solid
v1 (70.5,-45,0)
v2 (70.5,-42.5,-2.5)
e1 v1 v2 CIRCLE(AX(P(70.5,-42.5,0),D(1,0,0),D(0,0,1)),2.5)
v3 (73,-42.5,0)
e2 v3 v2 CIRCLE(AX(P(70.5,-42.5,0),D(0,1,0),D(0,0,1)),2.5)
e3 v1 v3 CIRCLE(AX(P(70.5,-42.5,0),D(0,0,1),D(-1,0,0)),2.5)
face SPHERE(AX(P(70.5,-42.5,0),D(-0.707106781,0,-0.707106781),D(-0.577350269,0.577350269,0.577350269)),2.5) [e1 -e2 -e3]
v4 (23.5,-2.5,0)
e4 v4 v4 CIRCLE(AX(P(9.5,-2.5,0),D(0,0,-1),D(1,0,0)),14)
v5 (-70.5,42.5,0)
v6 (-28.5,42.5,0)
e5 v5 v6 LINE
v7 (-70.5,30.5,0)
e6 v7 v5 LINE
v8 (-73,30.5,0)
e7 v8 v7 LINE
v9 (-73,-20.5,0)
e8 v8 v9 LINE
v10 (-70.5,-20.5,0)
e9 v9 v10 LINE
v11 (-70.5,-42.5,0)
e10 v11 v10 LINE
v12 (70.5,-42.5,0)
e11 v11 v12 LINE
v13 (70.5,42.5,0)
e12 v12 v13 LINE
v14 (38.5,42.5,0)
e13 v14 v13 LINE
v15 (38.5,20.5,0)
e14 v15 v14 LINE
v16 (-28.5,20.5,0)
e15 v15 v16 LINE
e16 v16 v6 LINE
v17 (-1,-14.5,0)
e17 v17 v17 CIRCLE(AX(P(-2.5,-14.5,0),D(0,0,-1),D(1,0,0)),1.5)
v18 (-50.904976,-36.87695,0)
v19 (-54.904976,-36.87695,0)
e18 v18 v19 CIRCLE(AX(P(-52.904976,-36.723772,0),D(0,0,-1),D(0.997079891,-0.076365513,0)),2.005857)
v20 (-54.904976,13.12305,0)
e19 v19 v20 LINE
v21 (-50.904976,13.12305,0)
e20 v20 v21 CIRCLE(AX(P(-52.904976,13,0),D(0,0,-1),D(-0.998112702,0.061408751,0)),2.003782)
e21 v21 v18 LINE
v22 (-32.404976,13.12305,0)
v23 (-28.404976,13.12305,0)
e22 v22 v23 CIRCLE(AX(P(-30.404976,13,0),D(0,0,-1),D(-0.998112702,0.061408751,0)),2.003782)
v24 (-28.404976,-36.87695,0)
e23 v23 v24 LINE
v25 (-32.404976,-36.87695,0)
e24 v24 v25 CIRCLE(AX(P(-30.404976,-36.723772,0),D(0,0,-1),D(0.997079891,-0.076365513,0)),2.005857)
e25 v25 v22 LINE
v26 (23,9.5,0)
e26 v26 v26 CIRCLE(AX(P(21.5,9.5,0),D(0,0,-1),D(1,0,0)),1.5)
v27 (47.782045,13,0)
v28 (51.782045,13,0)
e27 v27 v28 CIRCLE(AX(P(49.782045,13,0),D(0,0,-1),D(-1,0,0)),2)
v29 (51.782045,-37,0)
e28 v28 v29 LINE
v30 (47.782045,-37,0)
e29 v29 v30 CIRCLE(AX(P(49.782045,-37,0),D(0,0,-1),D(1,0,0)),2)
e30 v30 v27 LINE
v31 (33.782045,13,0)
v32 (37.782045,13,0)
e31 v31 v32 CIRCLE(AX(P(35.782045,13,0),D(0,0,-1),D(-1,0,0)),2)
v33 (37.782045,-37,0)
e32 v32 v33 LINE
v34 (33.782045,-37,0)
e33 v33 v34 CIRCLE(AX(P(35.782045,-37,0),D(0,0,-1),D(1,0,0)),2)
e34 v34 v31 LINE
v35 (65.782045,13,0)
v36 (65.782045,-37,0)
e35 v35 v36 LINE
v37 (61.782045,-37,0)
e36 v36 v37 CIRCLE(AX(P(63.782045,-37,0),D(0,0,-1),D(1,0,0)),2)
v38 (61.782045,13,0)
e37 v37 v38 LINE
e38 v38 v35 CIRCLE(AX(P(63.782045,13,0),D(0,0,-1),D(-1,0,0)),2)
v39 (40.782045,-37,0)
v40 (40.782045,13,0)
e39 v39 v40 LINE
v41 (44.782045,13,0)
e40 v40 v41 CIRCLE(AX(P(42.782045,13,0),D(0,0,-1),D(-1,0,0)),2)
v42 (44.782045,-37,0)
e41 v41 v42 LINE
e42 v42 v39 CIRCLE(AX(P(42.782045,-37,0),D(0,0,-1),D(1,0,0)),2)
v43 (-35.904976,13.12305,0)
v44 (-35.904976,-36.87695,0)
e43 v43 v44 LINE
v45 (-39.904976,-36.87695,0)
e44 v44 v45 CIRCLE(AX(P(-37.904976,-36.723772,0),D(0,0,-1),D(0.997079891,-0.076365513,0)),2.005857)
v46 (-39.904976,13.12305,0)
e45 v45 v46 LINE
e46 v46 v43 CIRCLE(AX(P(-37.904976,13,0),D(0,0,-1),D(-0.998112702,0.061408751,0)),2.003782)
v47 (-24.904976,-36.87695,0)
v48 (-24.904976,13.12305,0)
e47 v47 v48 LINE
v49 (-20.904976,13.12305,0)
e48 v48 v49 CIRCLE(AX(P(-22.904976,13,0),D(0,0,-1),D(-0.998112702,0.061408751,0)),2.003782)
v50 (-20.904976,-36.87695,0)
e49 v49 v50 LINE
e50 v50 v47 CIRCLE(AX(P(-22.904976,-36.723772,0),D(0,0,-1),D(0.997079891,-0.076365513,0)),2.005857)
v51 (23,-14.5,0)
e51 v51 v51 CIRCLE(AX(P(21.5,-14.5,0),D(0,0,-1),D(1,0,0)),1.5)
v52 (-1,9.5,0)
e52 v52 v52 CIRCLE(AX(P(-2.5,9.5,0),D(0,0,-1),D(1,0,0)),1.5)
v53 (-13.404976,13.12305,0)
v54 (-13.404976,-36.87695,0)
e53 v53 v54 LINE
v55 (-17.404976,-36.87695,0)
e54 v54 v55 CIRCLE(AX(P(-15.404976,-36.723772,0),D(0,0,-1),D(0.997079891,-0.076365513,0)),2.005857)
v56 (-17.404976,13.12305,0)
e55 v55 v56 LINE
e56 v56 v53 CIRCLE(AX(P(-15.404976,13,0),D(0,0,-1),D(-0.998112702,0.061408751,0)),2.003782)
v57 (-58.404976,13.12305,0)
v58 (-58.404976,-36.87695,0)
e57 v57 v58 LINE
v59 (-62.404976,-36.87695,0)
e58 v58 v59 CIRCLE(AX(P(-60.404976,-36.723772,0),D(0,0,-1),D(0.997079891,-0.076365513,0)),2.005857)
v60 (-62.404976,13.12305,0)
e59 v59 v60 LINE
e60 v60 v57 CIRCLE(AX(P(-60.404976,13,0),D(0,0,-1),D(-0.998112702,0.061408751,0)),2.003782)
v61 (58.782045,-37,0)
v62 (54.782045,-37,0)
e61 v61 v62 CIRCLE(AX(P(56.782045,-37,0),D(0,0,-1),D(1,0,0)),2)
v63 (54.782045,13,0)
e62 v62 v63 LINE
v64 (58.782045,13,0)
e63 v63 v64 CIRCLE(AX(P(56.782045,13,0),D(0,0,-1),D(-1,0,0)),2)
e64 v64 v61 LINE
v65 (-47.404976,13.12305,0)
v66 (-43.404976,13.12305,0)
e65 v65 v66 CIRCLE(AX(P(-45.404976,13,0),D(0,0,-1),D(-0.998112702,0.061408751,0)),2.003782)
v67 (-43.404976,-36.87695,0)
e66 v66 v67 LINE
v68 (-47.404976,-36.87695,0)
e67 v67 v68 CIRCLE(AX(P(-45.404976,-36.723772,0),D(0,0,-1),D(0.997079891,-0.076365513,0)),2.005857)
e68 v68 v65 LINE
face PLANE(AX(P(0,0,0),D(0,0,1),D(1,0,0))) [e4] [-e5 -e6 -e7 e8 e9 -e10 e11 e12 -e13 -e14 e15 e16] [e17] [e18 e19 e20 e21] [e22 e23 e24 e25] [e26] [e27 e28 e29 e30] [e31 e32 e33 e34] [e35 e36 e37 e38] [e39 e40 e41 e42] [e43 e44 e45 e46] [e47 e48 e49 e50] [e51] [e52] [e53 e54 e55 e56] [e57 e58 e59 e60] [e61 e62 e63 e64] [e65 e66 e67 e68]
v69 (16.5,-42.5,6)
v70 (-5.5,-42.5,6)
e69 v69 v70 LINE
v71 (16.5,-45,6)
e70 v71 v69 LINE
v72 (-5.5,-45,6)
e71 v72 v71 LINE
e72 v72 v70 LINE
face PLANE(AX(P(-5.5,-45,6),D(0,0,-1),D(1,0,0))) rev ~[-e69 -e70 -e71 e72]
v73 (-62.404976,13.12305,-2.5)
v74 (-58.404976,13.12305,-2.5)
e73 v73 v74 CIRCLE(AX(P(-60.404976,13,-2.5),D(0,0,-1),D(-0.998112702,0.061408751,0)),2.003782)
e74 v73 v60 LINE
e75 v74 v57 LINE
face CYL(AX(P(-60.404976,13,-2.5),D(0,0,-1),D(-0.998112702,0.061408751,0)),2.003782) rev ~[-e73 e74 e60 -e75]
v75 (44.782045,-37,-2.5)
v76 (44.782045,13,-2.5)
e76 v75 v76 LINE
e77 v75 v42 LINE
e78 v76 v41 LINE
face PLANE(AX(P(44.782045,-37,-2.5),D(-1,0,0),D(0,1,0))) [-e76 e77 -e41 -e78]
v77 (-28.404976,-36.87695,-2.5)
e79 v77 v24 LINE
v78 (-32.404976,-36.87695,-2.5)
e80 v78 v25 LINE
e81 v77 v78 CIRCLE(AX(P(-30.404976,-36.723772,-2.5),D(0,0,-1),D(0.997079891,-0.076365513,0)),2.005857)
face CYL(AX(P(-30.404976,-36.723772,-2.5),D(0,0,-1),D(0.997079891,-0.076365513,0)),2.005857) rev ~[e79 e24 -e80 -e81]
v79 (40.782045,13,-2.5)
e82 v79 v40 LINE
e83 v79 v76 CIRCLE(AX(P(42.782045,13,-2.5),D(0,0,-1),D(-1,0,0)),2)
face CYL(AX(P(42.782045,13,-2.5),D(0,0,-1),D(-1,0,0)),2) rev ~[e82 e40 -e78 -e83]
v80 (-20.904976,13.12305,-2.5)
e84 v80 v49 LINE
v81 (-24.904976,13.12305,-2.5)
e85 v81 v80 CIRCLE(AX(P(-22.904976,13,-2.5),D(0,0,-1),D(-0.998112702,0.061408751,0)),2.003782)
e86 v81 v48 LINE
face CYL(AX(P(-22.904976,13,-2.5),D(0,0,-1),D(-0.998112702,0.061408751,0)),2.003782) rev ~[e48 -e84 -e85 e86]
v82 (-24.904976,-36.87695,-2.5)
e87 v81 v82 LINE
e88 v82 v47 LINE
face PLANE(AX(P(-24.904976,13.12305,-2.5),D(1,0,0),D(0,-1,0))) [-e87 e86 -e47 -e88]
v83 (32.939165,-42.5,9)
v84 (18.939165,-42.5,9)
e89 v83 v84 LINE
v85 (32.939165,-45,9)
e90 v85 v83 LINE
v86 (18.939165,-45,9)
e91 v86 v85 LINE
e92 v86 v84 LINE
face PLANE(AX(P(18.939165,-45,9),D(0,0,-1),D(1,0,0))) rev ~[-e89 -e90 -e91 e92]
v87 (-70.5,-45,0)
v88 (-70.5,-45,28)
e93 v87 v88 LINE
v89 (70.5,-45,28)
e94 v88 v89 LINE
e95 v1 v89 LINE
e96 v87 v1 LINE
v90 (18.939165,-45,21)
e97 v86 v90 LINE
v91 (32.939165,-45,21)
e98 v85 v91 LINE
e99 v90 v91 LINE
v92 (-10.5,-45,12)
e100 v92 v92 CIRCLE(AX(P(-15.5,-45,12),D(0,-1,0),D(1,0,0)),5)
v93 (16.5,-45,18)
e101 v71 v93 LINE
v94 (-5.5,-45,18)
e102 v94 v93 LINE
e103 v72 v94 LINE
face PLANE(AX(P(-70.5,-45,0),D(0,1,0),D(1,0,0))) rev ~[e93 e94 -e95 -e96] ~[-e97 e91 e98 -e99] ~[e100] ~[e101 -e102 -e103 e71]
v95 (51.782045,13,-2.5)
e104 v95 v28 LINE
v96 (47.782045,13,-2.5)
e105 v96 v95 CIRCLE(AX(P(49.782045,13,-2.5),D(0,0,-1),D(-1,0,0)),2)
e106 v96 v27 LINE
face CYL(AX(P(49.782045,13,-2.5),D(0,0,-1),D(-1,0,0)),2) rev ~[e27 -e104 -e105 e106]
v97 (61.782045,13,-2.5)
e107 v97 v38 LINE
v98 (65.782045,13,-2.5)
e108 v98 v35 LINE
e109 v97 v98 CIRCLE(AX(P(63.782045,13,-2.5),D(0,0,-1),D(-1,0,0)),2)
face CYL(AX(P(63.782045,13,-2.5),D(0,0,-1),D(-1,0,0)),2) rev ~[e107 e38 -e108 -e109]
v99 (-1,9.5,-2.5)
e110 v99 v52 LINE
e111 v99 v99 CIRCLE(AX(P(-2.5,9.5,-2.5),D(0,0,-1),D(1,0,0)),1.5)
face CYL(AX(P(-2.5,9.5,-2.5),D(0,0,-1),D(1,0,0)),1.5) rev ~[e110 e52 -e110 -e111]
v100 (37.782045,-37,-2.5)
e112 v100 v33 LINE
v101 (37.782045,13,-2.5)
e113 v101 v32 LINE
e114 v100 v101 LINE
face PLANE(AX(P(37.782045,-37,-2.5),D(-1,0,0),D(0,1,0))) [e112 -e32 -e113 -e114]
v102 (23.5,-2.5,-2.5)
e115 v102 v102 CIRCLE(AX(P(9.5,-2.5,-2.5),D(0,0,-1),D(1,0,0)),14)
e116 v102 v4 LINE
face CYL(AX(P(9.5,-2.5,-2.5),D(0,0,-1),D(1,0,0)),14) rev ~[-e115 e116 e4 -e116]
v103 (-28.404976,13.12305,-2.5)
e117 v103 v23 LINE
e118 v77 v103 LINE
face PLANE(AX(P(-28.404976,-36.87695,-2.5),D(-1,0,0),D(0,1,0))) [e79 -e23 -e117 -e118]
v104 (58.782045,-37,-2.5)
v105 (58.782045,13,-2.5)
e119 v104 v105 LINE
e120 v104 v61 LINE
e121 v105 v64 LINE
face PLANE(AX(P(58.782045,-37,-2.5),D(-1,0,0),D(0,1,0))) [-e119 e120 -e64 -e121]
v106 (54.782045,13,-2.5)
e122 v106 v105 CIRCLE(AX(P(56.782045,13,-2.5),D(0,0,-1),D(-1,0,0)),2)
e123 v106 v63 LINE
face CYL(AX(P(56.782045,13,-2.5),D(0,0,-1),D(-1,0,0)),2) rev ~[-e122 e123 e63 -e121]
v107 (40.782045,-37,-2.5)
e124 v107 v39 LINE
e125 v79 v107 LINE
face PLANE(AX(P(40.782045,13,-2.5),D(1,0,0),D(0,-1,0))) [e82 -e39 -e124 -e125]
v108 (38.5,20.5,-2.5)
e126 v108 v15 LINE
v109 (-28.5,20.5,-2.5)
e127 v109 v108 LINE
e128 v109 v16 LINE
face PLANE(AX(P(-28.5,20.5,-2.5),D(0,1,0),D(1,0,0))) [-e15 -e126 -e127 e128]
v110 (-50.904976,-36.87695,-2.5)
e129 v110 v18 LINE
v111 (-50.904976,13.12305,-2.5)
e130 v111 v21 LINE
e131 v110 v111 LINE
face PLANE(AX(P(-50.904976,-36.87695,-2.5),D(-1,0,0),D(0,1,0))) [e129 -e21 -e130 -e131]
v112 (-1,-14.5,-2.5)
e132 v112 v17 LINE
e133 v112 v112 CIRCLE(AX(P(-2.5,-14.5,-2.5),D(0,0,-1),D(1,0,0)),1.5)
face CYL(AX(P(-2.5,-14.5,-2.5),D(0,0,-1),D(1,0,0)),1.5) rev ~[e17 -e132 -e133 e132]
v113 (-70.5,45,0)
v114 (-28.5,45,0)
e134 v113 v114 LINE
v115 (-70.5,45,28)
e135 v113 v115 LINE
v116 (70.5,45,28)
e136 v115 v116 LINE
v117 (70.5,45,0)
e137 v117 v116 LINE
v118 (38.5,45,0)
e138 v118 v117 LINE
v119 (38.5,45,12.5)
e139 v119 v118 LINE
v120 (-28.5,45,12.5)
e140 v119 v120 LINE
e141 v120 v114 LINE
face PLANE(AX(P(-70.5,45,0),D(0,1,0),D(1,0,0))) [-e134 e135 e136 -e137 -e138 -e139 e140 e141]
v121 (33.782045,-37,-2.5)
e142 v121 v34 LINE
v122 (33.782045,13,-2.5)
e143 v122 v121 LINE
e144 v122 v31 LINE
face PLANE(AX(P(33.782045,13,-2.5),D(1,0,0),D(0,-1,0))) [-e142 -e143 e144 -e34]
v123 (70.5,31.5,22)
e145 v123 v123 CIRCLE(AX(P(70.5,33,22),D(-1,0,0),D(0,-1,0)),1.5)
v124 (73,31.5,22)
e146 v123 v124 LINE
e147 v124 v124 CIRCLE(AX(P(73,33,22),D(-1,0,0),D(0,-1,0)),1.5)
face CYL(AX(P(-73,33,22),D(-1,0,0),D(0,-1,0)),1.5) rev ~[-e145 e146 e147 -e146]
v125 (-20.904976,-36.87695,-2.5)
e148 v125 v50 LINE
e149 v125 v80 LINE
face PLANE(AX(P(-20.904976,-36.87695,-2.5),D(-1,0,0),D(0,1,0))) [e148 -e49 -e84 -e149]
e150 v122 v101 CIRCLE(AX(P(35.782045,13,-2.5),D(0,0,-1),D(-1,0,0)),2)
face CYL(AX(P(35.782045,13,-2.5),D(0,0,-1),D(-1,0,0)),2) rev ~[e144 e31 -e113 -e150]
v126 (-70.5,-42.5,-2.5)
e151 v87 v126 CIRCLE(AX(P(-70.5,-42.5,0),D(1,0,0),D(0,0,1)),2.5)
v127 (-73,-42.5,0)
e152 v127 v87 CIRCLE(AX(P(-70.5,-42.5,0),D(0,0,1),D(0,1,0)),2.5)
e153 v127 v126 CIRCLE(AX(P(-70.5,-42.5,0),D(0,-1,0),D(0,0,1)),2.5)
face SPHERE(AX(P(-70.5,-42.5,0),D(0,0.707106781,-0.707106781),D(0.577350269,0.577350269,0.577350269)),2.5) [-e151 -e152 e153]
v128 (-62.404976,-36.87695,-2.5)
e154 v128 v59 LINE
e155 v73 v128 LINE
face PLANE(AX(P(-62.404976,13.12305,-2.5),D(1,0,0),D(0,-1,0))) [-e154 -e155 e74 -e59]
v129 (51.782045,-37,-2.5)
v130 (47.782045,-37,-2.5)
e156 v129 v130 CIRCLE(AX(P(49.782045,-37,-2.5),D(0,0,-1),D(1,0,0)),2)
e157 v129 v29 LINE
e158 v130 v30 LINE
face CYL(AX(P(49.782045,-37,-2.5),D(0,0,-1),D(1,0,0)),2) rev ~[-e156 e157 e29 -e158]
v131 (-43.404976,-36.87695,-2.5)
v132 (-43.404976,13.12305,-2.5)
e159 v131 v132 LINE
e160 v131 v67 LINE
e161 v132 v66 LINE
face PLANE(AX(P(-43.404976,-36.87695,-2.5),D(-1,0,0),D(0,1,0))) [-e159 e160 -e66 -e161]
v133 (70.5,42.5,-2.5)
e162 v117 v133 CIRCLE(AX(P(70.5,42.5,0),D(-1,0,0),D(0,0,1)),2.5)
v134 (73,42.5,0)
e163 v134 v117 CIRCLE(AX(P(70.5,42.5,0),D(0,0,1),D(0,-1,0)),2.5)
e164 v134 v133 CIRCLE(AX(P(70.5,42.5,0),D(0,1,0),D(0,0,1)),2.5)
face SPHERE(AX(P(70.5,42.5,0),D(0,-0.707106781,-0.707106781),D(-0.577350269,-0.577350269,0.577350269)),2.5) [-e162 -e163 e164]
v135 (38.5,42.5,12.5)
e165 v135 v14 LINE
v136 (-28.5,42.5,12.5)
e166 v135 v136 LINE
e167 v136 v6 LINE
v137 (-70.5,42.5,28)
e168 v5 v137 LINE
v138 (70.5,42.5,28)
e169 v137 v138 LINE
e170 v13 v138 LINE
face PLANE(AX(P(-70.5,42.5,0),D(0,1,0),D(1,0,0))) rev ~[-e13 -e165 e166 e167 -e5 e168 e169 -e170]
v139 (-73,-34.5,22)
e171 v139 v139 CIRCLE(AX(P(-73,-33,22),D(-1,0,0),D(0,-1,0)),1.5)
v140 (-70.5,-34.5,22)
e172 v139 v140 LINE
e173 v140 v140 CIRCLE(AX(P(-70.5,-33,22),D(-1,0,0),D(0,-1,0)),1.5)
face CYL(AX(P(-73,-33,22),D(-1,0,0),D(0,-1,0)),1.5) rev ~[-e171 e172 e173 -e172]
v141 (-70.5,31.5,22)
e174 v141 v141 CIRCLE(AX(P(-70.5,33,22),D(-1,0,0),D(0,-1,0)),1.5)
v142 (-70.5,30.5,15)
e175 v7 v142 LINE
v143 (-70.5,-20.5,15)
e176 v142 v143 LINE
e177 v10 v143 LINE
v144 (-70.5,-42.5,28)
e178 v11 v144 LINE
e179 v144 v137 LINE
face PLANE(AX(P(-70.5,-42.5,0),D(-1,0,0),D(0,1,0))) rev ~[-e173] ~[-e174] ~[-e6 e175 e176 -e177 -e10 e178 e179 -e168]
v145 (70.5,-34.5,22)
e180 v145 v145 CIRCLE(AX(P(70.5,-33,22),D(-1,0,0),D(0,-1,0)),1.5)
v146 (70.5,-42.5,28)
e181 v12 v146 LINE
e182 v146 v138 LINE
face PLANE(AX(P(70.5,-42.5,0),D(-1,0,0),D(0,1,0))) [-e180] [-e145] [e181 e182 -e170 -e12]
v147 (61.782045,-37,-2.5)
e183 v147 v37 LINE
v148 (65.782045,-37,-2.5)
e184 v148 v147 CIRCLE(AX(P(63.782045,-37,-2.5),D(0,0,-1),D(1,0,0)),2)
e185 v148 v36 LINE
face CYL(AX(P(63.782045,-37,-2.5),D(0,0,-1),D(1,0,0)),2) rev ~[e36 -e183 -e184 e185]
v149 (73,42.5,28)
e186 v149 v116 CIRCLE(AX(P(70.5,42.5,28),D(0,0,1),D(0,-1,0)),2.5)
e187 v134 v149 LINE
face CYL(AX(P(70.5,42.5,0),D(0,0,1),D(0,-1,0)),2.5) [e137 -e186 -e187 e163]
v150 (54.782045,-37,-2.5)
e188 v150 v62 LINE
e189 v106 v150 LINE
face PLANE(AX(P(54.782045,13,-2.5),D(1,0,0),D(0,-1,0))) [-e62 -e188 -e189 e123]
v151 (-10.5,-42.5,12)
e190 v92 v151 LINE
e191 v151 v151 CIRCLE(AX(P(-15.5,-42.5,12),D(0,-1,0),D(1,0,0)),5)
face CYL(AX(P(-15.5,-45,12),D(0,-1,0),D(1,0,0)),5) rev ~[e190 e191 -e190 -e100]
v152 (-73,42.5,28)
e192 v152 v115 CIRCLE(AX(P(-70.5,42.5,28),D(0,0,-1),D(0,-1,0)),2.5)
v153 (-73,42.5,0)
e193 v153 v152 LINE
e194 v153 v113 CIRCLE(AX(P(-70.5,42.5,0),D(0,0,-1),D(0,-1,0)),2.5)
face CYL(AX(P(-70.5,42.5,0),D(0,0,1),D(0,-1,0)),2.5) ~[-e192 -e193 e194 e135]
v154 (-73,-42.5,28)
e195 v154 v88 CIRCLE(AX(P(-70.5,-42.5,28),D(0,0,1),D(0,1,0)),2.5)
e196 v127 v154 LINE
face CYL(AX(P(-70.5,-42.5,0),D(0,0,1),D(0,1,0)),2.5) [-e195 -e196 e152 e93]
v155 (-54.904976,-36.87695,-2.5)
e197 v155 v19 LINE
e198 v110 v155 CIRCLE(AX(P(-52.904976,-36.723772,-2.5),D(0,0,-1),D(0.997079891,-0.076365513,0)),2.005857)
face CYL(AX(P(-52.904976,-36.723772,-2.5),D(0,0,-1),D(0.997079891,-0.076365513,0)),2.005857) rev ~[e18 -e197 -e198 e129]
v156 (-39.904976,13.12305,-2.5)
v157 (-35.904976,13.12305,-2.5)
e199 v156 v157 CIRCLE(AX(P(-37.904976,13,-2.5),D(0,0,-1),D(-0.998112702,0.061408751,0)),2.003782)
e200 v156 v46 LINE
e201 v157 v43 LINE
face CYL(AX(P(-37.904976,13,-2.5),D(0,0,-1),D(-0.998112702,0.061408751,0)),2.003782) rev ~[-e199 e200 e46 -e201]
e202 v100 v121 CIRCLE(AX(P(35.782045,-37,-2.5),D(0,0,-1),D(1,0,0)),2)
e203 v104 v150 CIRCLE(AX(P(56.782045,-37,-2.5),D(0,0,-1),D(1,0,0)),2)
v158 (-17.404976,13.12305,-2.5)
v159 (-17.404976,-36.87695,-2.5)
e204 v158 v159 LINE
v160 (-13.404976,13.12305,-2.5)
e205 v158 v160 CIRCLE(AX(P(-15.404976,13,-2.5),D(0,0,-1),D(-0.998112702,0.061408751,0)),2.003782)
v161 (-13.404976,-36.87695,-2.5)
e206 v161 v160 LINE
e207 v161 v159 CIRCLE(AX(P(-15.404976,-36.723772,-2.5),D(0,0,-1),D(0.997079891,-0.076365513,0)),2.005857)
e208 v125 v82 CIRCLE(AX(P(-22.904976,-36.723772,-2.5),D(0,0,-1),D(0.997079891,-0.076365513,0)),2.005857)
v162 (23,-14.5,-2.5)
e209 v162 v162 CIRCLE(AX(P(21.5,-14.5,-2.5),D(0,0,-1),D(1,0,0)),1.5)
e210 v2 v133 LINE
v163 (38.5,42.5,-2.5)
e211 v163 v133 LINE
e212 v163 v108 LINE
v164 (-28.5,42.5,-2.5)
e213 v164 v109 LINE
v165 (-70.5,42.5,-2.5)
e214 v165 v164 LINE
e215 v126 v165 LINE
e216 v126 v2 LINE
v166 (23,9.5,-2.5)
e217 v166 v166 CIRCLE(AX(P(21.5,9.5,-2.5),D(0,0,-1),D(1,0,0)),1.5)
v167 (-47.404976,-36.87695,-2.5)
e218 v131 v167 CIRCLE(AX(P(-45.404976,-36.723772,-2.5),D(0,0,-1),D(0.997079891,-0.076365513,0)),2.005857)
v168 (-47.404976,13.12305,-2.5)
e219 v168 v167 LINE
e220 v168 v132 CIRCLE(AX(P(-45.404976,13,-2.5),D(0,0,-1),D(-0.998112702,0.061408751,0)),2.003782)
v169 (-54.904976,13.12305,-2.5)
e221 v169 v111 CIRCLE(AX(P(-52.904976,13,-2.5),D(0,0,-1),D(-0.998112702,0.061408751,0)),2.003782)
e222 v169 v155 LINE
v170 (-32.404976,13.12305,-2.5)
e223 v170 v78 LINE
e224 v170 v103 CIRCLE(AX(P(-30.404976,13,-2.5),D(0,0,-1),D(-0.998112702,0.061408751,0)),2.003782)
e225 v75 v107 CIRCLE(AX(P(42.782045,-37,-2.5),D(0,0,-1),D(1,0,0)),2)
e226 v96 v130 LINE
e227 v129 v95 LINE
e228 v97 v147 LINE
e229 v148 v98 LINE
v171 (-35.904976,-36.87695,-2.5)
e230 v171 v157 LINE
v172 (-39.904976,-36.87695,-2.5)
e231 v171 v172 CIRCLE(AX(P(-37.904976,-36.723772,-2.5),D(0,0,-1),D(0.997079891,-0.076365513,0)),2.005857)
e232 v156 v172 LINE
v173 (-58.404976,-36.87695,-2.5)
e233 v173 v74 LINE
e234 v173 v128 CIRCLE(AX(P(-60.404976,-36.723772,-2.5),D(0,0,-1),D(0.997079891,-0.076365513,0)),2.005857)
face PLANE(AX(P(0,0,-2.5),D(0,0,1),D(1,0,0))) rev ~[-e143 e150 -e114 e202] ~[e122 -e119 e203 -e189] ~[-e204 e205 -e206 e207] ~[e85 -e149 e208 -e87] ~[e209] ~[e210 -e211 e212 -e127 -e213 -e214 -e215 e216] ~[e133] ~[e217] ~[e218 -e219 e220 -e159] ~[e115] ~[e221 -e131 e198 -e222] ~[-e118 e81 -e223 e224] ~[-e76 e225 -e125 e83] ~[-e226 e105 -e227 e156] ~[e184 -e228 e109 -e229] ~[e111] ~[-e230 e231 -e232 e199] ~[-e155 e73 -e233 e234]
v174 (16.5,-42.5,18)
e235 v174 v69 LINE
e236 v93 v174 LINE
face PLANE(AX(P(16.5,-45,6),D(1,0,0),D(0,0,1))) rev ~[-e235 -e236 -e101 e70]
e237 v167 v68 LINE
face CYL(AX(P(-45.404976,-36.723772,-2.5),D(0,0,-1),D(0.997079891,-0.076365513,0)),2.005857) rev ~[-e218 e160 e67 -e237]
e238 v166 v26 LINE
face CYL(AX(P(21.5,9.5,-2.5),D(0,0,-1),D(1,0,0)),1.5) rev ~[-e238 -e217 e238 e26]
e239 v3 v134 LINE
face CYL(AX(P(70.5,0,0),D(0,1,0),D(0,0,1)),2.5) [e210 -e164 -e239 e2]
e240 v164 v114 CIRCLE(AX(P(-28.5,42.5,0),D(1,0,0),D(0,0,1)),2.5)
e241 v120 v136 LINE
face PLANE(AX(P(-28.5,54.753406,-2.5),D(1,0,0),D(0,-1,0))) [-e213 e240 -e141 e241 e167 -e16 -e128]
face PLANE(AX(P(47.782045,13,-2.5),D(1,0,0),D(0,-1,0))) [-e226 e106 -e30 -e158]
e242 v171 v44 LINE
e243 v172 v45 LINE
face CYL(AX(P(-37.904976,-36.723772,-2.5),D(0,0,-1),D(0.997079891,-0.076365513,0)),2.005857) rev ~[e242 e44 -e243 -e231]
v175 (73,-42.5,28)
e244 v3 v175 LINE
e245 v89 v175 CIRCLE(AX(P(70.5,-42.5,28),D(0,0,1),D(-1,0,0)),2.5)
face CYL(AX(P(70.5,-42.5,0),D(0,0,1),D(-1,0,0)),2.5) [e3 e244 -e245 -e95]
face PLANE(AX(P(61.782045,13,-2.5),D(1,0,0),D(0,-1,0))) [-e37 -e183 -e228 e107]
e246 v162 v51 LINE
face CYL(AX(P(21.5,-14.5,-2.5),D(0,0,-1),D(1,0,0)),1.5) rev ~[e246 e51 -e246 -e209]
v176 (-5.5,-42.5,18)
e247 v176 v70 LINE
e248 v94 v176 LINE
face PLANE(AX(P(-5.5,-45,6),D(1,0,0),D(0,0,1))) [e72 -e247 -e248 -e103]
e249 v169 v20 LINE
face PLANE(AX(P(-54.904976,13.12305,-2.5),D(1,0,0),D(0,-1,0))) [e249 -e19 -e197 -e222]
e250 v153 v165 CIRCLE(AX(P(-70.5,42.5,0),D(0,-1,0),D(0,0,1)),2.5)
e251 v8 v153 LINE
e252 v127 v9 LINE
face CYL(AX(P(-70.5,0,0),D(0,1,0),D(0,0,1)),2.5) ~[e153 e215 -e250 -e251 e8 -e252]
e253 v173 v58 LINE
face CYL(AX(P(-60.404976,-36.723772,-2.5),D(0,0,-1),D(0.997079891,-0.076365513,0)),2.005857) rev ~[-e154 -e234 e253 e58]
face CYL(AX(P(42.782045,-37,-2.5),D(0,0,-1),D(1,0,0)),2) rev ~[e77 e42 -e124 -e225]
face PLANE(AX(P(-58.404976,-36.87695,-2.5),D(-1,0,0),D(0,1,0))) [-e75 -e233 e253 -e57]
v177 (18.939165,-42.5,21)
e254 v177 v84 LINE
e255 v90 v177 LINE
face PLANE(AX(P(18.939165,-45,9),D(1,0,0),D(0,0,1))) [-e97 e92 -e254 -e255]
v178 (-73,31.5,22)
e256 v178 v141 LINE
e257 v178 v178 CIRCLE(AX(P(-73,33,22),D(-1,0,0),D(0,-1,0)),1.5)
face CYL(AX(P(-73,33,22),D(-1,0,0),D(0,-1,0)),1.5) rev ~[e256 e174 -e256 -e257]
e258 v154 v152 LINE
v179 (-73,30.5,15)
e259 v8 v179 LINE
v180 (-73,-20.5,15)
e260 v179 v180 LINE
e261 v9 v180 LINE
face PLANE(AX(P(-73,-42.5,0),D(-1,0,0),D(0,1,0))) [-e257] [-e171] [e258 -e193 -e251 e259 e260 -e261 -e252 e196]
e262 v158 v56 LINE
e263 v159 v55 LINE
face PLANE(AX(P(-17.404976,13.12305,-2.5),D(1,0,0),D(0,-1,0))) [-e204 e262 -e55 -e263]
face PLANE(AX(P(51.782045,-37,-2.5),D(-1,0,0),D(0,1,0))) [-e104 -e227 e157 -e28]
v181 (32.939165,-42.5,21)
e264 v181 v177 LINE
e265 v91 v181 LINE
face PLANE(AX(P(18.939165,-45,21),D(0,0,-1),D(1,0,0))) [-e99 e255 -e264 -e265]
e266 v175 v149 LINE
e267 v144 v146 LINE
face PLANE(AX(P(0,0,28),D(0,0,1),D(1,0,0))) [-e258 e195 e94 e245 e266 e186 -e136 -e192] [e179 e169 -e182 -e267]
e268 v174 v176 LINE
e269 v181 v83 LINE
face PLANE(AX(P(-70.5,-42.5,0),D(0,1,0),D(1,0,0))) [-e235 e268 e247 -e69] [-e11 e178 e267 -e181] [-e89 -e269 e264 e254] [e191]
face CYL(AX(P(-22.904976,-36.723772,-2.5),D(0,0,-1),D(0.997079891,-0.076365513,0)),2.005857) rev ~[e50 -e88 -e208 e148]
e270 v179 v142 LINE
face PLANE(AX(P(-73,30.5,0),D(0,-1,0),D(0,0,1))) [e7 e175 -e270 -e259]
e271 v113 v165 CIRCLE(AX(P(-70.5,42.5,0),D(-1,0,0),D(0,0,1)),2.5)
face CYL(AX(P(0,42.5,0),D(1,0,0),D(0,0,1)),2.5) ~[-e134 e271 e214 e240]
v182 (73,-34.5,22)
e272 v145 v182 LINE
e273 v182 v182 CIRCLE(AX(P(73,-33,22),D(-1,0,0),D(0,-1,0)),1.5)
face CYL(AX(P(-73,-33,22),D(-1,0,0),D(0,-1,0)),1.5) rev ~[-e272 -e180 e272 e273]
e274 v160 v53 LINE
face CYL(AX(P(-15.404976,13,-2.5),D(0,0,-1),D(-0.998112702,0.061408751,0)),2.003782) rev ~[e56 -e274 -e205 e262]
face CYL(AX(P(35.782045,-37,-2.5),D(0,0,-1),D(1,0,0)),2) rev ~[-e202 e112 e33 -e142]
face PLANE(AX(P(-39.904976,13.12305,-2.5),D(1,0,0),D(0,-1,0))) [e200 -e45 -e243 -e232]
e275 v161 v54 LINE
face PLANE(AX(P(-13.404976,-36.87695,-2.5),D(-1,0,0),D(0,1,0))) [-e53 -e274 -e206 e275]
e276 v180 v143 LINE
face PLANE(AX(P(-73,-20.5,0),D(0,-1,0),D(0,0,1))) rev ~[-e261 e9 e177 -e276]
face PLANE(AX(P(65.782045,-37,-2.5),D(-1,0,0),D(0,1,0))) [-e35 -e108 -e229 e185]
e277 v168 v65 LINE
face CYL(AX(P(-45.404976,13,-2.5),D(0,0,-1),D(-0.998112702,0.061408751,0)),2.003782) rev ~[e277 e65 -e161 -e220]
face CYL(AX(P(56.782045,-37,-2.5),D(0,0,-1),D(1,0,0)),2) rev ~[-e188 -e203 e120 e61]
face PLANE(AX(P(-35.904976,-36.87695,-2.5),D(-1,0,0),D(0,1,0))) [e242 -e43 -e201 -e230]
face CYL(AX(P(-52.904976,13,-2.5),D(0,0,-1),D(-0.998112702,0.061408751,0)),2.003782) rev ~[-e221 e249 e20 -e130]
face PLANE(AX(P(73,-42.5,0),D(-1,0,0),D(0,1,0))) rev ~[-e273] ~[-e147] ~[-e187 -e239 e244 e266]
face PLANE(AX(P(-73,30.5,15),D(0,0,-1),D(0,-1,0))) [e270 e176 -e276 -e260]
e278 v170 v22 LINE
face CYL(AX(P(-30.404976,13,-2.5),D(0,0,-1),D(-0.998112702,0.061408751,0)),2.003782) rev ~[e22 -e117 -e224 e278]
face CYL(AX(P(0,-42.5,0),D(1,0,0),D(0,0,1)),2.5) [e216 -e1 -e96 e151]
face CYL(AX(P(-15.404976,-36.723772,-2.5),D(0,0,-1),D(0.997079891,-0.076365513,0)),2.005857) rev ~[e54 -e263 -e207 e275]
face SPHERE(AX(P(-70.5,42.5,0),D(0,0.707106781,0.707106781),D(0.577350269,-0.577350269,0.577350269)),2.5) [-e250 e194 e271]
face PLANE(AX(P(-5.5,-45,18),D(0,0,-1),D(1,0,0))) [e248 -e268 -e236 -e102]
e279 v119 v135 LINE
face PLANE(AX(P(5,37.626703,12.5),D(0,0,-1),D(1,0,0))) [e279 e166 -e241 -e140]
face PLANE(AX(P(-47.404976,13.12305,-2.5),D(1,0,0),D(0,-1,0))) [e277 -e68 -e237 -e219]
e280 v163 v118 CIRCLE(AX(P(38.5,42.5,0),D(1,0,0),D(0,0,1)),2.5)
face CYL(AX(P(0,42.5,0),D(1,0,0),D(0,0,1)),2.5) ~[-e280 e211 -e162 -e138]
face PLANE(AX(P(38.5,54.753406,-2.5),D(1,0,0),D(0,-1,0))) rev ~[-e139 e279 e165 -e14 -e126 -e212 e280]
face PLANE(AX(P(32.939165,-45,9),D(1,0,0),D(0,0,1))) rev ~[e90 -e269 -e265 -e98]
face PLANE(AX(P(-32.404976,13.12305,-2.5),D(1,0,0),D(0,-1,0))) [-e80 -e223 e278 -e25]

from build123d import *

# Parameters (mm, degrees)
SKETCH_W               = 141
SKETCH_H               = 85
PAD_DEPTH              = 28
THICKNESS_T            = 2.5
SKETCH001_R            = 1.5
POCKET_DEPTH           = 146.001
SKETCH003_W            = 51
SKETCH003_H            = 15
POCKET001_DEPTH        = 5
SKETCH004_W            = 67
SKETCH004_H            = 34.253407
POCKET002_DEPTH        = 15
SKETCH005_R            = 5
SKETCH005_W            = 22
SKETCH005_H            = 12
SKETCH005_W_2          = 14
POCKET003_DEPTH        = 5
SKETCH006_R            = 14
SKETCH006_R_2          = 1.5
POCKET004_DEPTH        = 5
POCKET005_DEPTH        = 5
LINEARPATTERN_COUNT    = 7
LINEARPATTERN_PITCH    = 7.5
POCKET006_DEPTH        = 5
LINEARPATTERN001_COUNT = 5
LINEARPATTERN001_PITCH = 7


with BuildPart() as part:
    # Sketch → Pad (new body)
    with BuildSketch(Plane.XY):
        Rectangle(SKETCH_W, SKETCH_H)
    extrude(amount=PAD_DEPTH)

    # Thickness
    thickness_openings = [part.faces().sort_by_distance(p)[0] for p in [
        (0, 0, 28),
    ]]
    offset(amount=THICKNESS_T, openings=thickness_openings)

    # Sketch001 → Pocket (cut, through all)
    with BuildSketch(Plane(origin=(-73, 0, 0), x_dir=(0, -1, 0), z_dir=(-1, 0, 0))):
        with Locations((-33, 22)):
            Circle(SKETCH001_R)
        with Locations((33, 22)):
            Circle(SKETCH001_R)
    extrude(amount=-POCKET_DEPTH, mode=Mode.SUBTRACT)

    # Sketch003 → Pocket001 (cut)
    with BuildSketch(Plane(origin=(-73, 0, 0), x_dir=(0, -1, 0), z_dir=(-1, 0, 0))):
        with Locations((-5, 7.5)):
            Rectangle(SKETCH003_W, SKETCH003_H)
    extrude(amount=-POCKET001_DEPTH, mode=Mode.SUBTRACT)

    # Sketch004 → Pocket002 (cut)
    with BuildSketch(Plane(origin=(0, 0, -2.5), x_dir=(1, 0, 0), z_dir=(0, 0, -1))):
        with Locations((5, -37.626703)):
            Rectangle(SKETCH004_W, SKETCH004_H)
    extrude(amount=-POCKET002_DEPTH, mode=Mode.SUBTRACT)

    # Sketch005 → Pocket003 (cut)
    with BuildSketch(Plane.XZ.offset(45)):
        with Locations((-15.5, 12)):
            Circle(SKETCH005_R)
        with Locations((5.5, 12)):
            Rectangle(SKETCH005_W, SKETCH005_H)
        with Locations((25.939165, 15)):
            Rectangle(SKETCH005_W_2, SKETCH005_H)
    extrude(amount=-POCKET003_DEPTH, mode=Mode.SUBTRACT)

    # Sketch006 → Pocket004 (cut)
    with BuildSketch(Plane(origin=(0, 0, -2.5), x_dir=(1, 0, 0), z_dir=(0, 0, -1))):
        with Locations((9.5, 2.5)):
            Circle(SKETCH006_R)
        with Locations((-2.5, 14.5)):
            Circle(SKETCH006_R_2)
        with Locations((21.5, 14.5)):
            Circle(SKETCH006_R_2)
        with Locations((21.5, -9.5)):
            Circle(SKETCH006_R_2)
        with Locations((-2.5, -9.5)):
            Circle(SKETCH006_R_2)
    extrude(amount=-POCKET004_DEPTH, mode=Mode.SUBTRACT)

    # Sketch007 → Pocket005 (cut)
    with BuildSketch(Plane(origin=(0, 0, -2.5), x_dir=(1, 0, 0), z_dir=(0, 0, -1))):
        with BuildLine():
            Line((-58.404976, 36.87695), (-58.404976, -13.12305))
            ThreePointArc((-62.404976, -13.12305), (-60.404976, -15.003782), (-58.404976, -13.12305))
            Line((-62.404976, -13.12305), (-62.404976, 36.87695))
            ThreePointArc((-58.404976, 36.87695), (-60.404976, 38.729629), (-62.404976, 36.87695))
        make_face()
    pocket005 = extrude(amount=-POCKET005_DEPTH, mode=Mode.SUBTRACT)

    # LinearPattern: Pocket005 ×7
    with Locations(*[(i * LINEARPATTERN_PITCH, 0, 0) for i in range(1, LINEARPATTERN_COUNT)]):
        add(pocket005, mode=Mode.SUBTRACT)

    # Sketch008 → Pocket006 (cut)
    with BuildSketch(Plane(origin=(0, 0, -2.5), x_dir=(1, 0, 0), z_dir=(0, 0, -1))):
        with BuildLine():
            Line((37.782045, 37), (37.782045, -13))
            ThreePointArc((33.782045, -13), (35.782045, -15), (37.782045, -13))
            Line((33.782045, -13), (33.782045, 37))
            ThreePointArc((37.782045, 37), (35.782045, 39), (33.782045, 37))
        make_face()
    pocket006 = extrude(amount=-POCKET006_DEPTH, mode=Mode.SUBTRACT)

    # LinearPattern001: Pocket006 ×5
    with Locations(*[(i * LINEARPATTERN001_PITCH, 0, 0) for i in range(1, LINEARPATTERN001_COUNT)]):
        add(pocket006, mode=Mode.SUBTRACT)


solid = part.part
